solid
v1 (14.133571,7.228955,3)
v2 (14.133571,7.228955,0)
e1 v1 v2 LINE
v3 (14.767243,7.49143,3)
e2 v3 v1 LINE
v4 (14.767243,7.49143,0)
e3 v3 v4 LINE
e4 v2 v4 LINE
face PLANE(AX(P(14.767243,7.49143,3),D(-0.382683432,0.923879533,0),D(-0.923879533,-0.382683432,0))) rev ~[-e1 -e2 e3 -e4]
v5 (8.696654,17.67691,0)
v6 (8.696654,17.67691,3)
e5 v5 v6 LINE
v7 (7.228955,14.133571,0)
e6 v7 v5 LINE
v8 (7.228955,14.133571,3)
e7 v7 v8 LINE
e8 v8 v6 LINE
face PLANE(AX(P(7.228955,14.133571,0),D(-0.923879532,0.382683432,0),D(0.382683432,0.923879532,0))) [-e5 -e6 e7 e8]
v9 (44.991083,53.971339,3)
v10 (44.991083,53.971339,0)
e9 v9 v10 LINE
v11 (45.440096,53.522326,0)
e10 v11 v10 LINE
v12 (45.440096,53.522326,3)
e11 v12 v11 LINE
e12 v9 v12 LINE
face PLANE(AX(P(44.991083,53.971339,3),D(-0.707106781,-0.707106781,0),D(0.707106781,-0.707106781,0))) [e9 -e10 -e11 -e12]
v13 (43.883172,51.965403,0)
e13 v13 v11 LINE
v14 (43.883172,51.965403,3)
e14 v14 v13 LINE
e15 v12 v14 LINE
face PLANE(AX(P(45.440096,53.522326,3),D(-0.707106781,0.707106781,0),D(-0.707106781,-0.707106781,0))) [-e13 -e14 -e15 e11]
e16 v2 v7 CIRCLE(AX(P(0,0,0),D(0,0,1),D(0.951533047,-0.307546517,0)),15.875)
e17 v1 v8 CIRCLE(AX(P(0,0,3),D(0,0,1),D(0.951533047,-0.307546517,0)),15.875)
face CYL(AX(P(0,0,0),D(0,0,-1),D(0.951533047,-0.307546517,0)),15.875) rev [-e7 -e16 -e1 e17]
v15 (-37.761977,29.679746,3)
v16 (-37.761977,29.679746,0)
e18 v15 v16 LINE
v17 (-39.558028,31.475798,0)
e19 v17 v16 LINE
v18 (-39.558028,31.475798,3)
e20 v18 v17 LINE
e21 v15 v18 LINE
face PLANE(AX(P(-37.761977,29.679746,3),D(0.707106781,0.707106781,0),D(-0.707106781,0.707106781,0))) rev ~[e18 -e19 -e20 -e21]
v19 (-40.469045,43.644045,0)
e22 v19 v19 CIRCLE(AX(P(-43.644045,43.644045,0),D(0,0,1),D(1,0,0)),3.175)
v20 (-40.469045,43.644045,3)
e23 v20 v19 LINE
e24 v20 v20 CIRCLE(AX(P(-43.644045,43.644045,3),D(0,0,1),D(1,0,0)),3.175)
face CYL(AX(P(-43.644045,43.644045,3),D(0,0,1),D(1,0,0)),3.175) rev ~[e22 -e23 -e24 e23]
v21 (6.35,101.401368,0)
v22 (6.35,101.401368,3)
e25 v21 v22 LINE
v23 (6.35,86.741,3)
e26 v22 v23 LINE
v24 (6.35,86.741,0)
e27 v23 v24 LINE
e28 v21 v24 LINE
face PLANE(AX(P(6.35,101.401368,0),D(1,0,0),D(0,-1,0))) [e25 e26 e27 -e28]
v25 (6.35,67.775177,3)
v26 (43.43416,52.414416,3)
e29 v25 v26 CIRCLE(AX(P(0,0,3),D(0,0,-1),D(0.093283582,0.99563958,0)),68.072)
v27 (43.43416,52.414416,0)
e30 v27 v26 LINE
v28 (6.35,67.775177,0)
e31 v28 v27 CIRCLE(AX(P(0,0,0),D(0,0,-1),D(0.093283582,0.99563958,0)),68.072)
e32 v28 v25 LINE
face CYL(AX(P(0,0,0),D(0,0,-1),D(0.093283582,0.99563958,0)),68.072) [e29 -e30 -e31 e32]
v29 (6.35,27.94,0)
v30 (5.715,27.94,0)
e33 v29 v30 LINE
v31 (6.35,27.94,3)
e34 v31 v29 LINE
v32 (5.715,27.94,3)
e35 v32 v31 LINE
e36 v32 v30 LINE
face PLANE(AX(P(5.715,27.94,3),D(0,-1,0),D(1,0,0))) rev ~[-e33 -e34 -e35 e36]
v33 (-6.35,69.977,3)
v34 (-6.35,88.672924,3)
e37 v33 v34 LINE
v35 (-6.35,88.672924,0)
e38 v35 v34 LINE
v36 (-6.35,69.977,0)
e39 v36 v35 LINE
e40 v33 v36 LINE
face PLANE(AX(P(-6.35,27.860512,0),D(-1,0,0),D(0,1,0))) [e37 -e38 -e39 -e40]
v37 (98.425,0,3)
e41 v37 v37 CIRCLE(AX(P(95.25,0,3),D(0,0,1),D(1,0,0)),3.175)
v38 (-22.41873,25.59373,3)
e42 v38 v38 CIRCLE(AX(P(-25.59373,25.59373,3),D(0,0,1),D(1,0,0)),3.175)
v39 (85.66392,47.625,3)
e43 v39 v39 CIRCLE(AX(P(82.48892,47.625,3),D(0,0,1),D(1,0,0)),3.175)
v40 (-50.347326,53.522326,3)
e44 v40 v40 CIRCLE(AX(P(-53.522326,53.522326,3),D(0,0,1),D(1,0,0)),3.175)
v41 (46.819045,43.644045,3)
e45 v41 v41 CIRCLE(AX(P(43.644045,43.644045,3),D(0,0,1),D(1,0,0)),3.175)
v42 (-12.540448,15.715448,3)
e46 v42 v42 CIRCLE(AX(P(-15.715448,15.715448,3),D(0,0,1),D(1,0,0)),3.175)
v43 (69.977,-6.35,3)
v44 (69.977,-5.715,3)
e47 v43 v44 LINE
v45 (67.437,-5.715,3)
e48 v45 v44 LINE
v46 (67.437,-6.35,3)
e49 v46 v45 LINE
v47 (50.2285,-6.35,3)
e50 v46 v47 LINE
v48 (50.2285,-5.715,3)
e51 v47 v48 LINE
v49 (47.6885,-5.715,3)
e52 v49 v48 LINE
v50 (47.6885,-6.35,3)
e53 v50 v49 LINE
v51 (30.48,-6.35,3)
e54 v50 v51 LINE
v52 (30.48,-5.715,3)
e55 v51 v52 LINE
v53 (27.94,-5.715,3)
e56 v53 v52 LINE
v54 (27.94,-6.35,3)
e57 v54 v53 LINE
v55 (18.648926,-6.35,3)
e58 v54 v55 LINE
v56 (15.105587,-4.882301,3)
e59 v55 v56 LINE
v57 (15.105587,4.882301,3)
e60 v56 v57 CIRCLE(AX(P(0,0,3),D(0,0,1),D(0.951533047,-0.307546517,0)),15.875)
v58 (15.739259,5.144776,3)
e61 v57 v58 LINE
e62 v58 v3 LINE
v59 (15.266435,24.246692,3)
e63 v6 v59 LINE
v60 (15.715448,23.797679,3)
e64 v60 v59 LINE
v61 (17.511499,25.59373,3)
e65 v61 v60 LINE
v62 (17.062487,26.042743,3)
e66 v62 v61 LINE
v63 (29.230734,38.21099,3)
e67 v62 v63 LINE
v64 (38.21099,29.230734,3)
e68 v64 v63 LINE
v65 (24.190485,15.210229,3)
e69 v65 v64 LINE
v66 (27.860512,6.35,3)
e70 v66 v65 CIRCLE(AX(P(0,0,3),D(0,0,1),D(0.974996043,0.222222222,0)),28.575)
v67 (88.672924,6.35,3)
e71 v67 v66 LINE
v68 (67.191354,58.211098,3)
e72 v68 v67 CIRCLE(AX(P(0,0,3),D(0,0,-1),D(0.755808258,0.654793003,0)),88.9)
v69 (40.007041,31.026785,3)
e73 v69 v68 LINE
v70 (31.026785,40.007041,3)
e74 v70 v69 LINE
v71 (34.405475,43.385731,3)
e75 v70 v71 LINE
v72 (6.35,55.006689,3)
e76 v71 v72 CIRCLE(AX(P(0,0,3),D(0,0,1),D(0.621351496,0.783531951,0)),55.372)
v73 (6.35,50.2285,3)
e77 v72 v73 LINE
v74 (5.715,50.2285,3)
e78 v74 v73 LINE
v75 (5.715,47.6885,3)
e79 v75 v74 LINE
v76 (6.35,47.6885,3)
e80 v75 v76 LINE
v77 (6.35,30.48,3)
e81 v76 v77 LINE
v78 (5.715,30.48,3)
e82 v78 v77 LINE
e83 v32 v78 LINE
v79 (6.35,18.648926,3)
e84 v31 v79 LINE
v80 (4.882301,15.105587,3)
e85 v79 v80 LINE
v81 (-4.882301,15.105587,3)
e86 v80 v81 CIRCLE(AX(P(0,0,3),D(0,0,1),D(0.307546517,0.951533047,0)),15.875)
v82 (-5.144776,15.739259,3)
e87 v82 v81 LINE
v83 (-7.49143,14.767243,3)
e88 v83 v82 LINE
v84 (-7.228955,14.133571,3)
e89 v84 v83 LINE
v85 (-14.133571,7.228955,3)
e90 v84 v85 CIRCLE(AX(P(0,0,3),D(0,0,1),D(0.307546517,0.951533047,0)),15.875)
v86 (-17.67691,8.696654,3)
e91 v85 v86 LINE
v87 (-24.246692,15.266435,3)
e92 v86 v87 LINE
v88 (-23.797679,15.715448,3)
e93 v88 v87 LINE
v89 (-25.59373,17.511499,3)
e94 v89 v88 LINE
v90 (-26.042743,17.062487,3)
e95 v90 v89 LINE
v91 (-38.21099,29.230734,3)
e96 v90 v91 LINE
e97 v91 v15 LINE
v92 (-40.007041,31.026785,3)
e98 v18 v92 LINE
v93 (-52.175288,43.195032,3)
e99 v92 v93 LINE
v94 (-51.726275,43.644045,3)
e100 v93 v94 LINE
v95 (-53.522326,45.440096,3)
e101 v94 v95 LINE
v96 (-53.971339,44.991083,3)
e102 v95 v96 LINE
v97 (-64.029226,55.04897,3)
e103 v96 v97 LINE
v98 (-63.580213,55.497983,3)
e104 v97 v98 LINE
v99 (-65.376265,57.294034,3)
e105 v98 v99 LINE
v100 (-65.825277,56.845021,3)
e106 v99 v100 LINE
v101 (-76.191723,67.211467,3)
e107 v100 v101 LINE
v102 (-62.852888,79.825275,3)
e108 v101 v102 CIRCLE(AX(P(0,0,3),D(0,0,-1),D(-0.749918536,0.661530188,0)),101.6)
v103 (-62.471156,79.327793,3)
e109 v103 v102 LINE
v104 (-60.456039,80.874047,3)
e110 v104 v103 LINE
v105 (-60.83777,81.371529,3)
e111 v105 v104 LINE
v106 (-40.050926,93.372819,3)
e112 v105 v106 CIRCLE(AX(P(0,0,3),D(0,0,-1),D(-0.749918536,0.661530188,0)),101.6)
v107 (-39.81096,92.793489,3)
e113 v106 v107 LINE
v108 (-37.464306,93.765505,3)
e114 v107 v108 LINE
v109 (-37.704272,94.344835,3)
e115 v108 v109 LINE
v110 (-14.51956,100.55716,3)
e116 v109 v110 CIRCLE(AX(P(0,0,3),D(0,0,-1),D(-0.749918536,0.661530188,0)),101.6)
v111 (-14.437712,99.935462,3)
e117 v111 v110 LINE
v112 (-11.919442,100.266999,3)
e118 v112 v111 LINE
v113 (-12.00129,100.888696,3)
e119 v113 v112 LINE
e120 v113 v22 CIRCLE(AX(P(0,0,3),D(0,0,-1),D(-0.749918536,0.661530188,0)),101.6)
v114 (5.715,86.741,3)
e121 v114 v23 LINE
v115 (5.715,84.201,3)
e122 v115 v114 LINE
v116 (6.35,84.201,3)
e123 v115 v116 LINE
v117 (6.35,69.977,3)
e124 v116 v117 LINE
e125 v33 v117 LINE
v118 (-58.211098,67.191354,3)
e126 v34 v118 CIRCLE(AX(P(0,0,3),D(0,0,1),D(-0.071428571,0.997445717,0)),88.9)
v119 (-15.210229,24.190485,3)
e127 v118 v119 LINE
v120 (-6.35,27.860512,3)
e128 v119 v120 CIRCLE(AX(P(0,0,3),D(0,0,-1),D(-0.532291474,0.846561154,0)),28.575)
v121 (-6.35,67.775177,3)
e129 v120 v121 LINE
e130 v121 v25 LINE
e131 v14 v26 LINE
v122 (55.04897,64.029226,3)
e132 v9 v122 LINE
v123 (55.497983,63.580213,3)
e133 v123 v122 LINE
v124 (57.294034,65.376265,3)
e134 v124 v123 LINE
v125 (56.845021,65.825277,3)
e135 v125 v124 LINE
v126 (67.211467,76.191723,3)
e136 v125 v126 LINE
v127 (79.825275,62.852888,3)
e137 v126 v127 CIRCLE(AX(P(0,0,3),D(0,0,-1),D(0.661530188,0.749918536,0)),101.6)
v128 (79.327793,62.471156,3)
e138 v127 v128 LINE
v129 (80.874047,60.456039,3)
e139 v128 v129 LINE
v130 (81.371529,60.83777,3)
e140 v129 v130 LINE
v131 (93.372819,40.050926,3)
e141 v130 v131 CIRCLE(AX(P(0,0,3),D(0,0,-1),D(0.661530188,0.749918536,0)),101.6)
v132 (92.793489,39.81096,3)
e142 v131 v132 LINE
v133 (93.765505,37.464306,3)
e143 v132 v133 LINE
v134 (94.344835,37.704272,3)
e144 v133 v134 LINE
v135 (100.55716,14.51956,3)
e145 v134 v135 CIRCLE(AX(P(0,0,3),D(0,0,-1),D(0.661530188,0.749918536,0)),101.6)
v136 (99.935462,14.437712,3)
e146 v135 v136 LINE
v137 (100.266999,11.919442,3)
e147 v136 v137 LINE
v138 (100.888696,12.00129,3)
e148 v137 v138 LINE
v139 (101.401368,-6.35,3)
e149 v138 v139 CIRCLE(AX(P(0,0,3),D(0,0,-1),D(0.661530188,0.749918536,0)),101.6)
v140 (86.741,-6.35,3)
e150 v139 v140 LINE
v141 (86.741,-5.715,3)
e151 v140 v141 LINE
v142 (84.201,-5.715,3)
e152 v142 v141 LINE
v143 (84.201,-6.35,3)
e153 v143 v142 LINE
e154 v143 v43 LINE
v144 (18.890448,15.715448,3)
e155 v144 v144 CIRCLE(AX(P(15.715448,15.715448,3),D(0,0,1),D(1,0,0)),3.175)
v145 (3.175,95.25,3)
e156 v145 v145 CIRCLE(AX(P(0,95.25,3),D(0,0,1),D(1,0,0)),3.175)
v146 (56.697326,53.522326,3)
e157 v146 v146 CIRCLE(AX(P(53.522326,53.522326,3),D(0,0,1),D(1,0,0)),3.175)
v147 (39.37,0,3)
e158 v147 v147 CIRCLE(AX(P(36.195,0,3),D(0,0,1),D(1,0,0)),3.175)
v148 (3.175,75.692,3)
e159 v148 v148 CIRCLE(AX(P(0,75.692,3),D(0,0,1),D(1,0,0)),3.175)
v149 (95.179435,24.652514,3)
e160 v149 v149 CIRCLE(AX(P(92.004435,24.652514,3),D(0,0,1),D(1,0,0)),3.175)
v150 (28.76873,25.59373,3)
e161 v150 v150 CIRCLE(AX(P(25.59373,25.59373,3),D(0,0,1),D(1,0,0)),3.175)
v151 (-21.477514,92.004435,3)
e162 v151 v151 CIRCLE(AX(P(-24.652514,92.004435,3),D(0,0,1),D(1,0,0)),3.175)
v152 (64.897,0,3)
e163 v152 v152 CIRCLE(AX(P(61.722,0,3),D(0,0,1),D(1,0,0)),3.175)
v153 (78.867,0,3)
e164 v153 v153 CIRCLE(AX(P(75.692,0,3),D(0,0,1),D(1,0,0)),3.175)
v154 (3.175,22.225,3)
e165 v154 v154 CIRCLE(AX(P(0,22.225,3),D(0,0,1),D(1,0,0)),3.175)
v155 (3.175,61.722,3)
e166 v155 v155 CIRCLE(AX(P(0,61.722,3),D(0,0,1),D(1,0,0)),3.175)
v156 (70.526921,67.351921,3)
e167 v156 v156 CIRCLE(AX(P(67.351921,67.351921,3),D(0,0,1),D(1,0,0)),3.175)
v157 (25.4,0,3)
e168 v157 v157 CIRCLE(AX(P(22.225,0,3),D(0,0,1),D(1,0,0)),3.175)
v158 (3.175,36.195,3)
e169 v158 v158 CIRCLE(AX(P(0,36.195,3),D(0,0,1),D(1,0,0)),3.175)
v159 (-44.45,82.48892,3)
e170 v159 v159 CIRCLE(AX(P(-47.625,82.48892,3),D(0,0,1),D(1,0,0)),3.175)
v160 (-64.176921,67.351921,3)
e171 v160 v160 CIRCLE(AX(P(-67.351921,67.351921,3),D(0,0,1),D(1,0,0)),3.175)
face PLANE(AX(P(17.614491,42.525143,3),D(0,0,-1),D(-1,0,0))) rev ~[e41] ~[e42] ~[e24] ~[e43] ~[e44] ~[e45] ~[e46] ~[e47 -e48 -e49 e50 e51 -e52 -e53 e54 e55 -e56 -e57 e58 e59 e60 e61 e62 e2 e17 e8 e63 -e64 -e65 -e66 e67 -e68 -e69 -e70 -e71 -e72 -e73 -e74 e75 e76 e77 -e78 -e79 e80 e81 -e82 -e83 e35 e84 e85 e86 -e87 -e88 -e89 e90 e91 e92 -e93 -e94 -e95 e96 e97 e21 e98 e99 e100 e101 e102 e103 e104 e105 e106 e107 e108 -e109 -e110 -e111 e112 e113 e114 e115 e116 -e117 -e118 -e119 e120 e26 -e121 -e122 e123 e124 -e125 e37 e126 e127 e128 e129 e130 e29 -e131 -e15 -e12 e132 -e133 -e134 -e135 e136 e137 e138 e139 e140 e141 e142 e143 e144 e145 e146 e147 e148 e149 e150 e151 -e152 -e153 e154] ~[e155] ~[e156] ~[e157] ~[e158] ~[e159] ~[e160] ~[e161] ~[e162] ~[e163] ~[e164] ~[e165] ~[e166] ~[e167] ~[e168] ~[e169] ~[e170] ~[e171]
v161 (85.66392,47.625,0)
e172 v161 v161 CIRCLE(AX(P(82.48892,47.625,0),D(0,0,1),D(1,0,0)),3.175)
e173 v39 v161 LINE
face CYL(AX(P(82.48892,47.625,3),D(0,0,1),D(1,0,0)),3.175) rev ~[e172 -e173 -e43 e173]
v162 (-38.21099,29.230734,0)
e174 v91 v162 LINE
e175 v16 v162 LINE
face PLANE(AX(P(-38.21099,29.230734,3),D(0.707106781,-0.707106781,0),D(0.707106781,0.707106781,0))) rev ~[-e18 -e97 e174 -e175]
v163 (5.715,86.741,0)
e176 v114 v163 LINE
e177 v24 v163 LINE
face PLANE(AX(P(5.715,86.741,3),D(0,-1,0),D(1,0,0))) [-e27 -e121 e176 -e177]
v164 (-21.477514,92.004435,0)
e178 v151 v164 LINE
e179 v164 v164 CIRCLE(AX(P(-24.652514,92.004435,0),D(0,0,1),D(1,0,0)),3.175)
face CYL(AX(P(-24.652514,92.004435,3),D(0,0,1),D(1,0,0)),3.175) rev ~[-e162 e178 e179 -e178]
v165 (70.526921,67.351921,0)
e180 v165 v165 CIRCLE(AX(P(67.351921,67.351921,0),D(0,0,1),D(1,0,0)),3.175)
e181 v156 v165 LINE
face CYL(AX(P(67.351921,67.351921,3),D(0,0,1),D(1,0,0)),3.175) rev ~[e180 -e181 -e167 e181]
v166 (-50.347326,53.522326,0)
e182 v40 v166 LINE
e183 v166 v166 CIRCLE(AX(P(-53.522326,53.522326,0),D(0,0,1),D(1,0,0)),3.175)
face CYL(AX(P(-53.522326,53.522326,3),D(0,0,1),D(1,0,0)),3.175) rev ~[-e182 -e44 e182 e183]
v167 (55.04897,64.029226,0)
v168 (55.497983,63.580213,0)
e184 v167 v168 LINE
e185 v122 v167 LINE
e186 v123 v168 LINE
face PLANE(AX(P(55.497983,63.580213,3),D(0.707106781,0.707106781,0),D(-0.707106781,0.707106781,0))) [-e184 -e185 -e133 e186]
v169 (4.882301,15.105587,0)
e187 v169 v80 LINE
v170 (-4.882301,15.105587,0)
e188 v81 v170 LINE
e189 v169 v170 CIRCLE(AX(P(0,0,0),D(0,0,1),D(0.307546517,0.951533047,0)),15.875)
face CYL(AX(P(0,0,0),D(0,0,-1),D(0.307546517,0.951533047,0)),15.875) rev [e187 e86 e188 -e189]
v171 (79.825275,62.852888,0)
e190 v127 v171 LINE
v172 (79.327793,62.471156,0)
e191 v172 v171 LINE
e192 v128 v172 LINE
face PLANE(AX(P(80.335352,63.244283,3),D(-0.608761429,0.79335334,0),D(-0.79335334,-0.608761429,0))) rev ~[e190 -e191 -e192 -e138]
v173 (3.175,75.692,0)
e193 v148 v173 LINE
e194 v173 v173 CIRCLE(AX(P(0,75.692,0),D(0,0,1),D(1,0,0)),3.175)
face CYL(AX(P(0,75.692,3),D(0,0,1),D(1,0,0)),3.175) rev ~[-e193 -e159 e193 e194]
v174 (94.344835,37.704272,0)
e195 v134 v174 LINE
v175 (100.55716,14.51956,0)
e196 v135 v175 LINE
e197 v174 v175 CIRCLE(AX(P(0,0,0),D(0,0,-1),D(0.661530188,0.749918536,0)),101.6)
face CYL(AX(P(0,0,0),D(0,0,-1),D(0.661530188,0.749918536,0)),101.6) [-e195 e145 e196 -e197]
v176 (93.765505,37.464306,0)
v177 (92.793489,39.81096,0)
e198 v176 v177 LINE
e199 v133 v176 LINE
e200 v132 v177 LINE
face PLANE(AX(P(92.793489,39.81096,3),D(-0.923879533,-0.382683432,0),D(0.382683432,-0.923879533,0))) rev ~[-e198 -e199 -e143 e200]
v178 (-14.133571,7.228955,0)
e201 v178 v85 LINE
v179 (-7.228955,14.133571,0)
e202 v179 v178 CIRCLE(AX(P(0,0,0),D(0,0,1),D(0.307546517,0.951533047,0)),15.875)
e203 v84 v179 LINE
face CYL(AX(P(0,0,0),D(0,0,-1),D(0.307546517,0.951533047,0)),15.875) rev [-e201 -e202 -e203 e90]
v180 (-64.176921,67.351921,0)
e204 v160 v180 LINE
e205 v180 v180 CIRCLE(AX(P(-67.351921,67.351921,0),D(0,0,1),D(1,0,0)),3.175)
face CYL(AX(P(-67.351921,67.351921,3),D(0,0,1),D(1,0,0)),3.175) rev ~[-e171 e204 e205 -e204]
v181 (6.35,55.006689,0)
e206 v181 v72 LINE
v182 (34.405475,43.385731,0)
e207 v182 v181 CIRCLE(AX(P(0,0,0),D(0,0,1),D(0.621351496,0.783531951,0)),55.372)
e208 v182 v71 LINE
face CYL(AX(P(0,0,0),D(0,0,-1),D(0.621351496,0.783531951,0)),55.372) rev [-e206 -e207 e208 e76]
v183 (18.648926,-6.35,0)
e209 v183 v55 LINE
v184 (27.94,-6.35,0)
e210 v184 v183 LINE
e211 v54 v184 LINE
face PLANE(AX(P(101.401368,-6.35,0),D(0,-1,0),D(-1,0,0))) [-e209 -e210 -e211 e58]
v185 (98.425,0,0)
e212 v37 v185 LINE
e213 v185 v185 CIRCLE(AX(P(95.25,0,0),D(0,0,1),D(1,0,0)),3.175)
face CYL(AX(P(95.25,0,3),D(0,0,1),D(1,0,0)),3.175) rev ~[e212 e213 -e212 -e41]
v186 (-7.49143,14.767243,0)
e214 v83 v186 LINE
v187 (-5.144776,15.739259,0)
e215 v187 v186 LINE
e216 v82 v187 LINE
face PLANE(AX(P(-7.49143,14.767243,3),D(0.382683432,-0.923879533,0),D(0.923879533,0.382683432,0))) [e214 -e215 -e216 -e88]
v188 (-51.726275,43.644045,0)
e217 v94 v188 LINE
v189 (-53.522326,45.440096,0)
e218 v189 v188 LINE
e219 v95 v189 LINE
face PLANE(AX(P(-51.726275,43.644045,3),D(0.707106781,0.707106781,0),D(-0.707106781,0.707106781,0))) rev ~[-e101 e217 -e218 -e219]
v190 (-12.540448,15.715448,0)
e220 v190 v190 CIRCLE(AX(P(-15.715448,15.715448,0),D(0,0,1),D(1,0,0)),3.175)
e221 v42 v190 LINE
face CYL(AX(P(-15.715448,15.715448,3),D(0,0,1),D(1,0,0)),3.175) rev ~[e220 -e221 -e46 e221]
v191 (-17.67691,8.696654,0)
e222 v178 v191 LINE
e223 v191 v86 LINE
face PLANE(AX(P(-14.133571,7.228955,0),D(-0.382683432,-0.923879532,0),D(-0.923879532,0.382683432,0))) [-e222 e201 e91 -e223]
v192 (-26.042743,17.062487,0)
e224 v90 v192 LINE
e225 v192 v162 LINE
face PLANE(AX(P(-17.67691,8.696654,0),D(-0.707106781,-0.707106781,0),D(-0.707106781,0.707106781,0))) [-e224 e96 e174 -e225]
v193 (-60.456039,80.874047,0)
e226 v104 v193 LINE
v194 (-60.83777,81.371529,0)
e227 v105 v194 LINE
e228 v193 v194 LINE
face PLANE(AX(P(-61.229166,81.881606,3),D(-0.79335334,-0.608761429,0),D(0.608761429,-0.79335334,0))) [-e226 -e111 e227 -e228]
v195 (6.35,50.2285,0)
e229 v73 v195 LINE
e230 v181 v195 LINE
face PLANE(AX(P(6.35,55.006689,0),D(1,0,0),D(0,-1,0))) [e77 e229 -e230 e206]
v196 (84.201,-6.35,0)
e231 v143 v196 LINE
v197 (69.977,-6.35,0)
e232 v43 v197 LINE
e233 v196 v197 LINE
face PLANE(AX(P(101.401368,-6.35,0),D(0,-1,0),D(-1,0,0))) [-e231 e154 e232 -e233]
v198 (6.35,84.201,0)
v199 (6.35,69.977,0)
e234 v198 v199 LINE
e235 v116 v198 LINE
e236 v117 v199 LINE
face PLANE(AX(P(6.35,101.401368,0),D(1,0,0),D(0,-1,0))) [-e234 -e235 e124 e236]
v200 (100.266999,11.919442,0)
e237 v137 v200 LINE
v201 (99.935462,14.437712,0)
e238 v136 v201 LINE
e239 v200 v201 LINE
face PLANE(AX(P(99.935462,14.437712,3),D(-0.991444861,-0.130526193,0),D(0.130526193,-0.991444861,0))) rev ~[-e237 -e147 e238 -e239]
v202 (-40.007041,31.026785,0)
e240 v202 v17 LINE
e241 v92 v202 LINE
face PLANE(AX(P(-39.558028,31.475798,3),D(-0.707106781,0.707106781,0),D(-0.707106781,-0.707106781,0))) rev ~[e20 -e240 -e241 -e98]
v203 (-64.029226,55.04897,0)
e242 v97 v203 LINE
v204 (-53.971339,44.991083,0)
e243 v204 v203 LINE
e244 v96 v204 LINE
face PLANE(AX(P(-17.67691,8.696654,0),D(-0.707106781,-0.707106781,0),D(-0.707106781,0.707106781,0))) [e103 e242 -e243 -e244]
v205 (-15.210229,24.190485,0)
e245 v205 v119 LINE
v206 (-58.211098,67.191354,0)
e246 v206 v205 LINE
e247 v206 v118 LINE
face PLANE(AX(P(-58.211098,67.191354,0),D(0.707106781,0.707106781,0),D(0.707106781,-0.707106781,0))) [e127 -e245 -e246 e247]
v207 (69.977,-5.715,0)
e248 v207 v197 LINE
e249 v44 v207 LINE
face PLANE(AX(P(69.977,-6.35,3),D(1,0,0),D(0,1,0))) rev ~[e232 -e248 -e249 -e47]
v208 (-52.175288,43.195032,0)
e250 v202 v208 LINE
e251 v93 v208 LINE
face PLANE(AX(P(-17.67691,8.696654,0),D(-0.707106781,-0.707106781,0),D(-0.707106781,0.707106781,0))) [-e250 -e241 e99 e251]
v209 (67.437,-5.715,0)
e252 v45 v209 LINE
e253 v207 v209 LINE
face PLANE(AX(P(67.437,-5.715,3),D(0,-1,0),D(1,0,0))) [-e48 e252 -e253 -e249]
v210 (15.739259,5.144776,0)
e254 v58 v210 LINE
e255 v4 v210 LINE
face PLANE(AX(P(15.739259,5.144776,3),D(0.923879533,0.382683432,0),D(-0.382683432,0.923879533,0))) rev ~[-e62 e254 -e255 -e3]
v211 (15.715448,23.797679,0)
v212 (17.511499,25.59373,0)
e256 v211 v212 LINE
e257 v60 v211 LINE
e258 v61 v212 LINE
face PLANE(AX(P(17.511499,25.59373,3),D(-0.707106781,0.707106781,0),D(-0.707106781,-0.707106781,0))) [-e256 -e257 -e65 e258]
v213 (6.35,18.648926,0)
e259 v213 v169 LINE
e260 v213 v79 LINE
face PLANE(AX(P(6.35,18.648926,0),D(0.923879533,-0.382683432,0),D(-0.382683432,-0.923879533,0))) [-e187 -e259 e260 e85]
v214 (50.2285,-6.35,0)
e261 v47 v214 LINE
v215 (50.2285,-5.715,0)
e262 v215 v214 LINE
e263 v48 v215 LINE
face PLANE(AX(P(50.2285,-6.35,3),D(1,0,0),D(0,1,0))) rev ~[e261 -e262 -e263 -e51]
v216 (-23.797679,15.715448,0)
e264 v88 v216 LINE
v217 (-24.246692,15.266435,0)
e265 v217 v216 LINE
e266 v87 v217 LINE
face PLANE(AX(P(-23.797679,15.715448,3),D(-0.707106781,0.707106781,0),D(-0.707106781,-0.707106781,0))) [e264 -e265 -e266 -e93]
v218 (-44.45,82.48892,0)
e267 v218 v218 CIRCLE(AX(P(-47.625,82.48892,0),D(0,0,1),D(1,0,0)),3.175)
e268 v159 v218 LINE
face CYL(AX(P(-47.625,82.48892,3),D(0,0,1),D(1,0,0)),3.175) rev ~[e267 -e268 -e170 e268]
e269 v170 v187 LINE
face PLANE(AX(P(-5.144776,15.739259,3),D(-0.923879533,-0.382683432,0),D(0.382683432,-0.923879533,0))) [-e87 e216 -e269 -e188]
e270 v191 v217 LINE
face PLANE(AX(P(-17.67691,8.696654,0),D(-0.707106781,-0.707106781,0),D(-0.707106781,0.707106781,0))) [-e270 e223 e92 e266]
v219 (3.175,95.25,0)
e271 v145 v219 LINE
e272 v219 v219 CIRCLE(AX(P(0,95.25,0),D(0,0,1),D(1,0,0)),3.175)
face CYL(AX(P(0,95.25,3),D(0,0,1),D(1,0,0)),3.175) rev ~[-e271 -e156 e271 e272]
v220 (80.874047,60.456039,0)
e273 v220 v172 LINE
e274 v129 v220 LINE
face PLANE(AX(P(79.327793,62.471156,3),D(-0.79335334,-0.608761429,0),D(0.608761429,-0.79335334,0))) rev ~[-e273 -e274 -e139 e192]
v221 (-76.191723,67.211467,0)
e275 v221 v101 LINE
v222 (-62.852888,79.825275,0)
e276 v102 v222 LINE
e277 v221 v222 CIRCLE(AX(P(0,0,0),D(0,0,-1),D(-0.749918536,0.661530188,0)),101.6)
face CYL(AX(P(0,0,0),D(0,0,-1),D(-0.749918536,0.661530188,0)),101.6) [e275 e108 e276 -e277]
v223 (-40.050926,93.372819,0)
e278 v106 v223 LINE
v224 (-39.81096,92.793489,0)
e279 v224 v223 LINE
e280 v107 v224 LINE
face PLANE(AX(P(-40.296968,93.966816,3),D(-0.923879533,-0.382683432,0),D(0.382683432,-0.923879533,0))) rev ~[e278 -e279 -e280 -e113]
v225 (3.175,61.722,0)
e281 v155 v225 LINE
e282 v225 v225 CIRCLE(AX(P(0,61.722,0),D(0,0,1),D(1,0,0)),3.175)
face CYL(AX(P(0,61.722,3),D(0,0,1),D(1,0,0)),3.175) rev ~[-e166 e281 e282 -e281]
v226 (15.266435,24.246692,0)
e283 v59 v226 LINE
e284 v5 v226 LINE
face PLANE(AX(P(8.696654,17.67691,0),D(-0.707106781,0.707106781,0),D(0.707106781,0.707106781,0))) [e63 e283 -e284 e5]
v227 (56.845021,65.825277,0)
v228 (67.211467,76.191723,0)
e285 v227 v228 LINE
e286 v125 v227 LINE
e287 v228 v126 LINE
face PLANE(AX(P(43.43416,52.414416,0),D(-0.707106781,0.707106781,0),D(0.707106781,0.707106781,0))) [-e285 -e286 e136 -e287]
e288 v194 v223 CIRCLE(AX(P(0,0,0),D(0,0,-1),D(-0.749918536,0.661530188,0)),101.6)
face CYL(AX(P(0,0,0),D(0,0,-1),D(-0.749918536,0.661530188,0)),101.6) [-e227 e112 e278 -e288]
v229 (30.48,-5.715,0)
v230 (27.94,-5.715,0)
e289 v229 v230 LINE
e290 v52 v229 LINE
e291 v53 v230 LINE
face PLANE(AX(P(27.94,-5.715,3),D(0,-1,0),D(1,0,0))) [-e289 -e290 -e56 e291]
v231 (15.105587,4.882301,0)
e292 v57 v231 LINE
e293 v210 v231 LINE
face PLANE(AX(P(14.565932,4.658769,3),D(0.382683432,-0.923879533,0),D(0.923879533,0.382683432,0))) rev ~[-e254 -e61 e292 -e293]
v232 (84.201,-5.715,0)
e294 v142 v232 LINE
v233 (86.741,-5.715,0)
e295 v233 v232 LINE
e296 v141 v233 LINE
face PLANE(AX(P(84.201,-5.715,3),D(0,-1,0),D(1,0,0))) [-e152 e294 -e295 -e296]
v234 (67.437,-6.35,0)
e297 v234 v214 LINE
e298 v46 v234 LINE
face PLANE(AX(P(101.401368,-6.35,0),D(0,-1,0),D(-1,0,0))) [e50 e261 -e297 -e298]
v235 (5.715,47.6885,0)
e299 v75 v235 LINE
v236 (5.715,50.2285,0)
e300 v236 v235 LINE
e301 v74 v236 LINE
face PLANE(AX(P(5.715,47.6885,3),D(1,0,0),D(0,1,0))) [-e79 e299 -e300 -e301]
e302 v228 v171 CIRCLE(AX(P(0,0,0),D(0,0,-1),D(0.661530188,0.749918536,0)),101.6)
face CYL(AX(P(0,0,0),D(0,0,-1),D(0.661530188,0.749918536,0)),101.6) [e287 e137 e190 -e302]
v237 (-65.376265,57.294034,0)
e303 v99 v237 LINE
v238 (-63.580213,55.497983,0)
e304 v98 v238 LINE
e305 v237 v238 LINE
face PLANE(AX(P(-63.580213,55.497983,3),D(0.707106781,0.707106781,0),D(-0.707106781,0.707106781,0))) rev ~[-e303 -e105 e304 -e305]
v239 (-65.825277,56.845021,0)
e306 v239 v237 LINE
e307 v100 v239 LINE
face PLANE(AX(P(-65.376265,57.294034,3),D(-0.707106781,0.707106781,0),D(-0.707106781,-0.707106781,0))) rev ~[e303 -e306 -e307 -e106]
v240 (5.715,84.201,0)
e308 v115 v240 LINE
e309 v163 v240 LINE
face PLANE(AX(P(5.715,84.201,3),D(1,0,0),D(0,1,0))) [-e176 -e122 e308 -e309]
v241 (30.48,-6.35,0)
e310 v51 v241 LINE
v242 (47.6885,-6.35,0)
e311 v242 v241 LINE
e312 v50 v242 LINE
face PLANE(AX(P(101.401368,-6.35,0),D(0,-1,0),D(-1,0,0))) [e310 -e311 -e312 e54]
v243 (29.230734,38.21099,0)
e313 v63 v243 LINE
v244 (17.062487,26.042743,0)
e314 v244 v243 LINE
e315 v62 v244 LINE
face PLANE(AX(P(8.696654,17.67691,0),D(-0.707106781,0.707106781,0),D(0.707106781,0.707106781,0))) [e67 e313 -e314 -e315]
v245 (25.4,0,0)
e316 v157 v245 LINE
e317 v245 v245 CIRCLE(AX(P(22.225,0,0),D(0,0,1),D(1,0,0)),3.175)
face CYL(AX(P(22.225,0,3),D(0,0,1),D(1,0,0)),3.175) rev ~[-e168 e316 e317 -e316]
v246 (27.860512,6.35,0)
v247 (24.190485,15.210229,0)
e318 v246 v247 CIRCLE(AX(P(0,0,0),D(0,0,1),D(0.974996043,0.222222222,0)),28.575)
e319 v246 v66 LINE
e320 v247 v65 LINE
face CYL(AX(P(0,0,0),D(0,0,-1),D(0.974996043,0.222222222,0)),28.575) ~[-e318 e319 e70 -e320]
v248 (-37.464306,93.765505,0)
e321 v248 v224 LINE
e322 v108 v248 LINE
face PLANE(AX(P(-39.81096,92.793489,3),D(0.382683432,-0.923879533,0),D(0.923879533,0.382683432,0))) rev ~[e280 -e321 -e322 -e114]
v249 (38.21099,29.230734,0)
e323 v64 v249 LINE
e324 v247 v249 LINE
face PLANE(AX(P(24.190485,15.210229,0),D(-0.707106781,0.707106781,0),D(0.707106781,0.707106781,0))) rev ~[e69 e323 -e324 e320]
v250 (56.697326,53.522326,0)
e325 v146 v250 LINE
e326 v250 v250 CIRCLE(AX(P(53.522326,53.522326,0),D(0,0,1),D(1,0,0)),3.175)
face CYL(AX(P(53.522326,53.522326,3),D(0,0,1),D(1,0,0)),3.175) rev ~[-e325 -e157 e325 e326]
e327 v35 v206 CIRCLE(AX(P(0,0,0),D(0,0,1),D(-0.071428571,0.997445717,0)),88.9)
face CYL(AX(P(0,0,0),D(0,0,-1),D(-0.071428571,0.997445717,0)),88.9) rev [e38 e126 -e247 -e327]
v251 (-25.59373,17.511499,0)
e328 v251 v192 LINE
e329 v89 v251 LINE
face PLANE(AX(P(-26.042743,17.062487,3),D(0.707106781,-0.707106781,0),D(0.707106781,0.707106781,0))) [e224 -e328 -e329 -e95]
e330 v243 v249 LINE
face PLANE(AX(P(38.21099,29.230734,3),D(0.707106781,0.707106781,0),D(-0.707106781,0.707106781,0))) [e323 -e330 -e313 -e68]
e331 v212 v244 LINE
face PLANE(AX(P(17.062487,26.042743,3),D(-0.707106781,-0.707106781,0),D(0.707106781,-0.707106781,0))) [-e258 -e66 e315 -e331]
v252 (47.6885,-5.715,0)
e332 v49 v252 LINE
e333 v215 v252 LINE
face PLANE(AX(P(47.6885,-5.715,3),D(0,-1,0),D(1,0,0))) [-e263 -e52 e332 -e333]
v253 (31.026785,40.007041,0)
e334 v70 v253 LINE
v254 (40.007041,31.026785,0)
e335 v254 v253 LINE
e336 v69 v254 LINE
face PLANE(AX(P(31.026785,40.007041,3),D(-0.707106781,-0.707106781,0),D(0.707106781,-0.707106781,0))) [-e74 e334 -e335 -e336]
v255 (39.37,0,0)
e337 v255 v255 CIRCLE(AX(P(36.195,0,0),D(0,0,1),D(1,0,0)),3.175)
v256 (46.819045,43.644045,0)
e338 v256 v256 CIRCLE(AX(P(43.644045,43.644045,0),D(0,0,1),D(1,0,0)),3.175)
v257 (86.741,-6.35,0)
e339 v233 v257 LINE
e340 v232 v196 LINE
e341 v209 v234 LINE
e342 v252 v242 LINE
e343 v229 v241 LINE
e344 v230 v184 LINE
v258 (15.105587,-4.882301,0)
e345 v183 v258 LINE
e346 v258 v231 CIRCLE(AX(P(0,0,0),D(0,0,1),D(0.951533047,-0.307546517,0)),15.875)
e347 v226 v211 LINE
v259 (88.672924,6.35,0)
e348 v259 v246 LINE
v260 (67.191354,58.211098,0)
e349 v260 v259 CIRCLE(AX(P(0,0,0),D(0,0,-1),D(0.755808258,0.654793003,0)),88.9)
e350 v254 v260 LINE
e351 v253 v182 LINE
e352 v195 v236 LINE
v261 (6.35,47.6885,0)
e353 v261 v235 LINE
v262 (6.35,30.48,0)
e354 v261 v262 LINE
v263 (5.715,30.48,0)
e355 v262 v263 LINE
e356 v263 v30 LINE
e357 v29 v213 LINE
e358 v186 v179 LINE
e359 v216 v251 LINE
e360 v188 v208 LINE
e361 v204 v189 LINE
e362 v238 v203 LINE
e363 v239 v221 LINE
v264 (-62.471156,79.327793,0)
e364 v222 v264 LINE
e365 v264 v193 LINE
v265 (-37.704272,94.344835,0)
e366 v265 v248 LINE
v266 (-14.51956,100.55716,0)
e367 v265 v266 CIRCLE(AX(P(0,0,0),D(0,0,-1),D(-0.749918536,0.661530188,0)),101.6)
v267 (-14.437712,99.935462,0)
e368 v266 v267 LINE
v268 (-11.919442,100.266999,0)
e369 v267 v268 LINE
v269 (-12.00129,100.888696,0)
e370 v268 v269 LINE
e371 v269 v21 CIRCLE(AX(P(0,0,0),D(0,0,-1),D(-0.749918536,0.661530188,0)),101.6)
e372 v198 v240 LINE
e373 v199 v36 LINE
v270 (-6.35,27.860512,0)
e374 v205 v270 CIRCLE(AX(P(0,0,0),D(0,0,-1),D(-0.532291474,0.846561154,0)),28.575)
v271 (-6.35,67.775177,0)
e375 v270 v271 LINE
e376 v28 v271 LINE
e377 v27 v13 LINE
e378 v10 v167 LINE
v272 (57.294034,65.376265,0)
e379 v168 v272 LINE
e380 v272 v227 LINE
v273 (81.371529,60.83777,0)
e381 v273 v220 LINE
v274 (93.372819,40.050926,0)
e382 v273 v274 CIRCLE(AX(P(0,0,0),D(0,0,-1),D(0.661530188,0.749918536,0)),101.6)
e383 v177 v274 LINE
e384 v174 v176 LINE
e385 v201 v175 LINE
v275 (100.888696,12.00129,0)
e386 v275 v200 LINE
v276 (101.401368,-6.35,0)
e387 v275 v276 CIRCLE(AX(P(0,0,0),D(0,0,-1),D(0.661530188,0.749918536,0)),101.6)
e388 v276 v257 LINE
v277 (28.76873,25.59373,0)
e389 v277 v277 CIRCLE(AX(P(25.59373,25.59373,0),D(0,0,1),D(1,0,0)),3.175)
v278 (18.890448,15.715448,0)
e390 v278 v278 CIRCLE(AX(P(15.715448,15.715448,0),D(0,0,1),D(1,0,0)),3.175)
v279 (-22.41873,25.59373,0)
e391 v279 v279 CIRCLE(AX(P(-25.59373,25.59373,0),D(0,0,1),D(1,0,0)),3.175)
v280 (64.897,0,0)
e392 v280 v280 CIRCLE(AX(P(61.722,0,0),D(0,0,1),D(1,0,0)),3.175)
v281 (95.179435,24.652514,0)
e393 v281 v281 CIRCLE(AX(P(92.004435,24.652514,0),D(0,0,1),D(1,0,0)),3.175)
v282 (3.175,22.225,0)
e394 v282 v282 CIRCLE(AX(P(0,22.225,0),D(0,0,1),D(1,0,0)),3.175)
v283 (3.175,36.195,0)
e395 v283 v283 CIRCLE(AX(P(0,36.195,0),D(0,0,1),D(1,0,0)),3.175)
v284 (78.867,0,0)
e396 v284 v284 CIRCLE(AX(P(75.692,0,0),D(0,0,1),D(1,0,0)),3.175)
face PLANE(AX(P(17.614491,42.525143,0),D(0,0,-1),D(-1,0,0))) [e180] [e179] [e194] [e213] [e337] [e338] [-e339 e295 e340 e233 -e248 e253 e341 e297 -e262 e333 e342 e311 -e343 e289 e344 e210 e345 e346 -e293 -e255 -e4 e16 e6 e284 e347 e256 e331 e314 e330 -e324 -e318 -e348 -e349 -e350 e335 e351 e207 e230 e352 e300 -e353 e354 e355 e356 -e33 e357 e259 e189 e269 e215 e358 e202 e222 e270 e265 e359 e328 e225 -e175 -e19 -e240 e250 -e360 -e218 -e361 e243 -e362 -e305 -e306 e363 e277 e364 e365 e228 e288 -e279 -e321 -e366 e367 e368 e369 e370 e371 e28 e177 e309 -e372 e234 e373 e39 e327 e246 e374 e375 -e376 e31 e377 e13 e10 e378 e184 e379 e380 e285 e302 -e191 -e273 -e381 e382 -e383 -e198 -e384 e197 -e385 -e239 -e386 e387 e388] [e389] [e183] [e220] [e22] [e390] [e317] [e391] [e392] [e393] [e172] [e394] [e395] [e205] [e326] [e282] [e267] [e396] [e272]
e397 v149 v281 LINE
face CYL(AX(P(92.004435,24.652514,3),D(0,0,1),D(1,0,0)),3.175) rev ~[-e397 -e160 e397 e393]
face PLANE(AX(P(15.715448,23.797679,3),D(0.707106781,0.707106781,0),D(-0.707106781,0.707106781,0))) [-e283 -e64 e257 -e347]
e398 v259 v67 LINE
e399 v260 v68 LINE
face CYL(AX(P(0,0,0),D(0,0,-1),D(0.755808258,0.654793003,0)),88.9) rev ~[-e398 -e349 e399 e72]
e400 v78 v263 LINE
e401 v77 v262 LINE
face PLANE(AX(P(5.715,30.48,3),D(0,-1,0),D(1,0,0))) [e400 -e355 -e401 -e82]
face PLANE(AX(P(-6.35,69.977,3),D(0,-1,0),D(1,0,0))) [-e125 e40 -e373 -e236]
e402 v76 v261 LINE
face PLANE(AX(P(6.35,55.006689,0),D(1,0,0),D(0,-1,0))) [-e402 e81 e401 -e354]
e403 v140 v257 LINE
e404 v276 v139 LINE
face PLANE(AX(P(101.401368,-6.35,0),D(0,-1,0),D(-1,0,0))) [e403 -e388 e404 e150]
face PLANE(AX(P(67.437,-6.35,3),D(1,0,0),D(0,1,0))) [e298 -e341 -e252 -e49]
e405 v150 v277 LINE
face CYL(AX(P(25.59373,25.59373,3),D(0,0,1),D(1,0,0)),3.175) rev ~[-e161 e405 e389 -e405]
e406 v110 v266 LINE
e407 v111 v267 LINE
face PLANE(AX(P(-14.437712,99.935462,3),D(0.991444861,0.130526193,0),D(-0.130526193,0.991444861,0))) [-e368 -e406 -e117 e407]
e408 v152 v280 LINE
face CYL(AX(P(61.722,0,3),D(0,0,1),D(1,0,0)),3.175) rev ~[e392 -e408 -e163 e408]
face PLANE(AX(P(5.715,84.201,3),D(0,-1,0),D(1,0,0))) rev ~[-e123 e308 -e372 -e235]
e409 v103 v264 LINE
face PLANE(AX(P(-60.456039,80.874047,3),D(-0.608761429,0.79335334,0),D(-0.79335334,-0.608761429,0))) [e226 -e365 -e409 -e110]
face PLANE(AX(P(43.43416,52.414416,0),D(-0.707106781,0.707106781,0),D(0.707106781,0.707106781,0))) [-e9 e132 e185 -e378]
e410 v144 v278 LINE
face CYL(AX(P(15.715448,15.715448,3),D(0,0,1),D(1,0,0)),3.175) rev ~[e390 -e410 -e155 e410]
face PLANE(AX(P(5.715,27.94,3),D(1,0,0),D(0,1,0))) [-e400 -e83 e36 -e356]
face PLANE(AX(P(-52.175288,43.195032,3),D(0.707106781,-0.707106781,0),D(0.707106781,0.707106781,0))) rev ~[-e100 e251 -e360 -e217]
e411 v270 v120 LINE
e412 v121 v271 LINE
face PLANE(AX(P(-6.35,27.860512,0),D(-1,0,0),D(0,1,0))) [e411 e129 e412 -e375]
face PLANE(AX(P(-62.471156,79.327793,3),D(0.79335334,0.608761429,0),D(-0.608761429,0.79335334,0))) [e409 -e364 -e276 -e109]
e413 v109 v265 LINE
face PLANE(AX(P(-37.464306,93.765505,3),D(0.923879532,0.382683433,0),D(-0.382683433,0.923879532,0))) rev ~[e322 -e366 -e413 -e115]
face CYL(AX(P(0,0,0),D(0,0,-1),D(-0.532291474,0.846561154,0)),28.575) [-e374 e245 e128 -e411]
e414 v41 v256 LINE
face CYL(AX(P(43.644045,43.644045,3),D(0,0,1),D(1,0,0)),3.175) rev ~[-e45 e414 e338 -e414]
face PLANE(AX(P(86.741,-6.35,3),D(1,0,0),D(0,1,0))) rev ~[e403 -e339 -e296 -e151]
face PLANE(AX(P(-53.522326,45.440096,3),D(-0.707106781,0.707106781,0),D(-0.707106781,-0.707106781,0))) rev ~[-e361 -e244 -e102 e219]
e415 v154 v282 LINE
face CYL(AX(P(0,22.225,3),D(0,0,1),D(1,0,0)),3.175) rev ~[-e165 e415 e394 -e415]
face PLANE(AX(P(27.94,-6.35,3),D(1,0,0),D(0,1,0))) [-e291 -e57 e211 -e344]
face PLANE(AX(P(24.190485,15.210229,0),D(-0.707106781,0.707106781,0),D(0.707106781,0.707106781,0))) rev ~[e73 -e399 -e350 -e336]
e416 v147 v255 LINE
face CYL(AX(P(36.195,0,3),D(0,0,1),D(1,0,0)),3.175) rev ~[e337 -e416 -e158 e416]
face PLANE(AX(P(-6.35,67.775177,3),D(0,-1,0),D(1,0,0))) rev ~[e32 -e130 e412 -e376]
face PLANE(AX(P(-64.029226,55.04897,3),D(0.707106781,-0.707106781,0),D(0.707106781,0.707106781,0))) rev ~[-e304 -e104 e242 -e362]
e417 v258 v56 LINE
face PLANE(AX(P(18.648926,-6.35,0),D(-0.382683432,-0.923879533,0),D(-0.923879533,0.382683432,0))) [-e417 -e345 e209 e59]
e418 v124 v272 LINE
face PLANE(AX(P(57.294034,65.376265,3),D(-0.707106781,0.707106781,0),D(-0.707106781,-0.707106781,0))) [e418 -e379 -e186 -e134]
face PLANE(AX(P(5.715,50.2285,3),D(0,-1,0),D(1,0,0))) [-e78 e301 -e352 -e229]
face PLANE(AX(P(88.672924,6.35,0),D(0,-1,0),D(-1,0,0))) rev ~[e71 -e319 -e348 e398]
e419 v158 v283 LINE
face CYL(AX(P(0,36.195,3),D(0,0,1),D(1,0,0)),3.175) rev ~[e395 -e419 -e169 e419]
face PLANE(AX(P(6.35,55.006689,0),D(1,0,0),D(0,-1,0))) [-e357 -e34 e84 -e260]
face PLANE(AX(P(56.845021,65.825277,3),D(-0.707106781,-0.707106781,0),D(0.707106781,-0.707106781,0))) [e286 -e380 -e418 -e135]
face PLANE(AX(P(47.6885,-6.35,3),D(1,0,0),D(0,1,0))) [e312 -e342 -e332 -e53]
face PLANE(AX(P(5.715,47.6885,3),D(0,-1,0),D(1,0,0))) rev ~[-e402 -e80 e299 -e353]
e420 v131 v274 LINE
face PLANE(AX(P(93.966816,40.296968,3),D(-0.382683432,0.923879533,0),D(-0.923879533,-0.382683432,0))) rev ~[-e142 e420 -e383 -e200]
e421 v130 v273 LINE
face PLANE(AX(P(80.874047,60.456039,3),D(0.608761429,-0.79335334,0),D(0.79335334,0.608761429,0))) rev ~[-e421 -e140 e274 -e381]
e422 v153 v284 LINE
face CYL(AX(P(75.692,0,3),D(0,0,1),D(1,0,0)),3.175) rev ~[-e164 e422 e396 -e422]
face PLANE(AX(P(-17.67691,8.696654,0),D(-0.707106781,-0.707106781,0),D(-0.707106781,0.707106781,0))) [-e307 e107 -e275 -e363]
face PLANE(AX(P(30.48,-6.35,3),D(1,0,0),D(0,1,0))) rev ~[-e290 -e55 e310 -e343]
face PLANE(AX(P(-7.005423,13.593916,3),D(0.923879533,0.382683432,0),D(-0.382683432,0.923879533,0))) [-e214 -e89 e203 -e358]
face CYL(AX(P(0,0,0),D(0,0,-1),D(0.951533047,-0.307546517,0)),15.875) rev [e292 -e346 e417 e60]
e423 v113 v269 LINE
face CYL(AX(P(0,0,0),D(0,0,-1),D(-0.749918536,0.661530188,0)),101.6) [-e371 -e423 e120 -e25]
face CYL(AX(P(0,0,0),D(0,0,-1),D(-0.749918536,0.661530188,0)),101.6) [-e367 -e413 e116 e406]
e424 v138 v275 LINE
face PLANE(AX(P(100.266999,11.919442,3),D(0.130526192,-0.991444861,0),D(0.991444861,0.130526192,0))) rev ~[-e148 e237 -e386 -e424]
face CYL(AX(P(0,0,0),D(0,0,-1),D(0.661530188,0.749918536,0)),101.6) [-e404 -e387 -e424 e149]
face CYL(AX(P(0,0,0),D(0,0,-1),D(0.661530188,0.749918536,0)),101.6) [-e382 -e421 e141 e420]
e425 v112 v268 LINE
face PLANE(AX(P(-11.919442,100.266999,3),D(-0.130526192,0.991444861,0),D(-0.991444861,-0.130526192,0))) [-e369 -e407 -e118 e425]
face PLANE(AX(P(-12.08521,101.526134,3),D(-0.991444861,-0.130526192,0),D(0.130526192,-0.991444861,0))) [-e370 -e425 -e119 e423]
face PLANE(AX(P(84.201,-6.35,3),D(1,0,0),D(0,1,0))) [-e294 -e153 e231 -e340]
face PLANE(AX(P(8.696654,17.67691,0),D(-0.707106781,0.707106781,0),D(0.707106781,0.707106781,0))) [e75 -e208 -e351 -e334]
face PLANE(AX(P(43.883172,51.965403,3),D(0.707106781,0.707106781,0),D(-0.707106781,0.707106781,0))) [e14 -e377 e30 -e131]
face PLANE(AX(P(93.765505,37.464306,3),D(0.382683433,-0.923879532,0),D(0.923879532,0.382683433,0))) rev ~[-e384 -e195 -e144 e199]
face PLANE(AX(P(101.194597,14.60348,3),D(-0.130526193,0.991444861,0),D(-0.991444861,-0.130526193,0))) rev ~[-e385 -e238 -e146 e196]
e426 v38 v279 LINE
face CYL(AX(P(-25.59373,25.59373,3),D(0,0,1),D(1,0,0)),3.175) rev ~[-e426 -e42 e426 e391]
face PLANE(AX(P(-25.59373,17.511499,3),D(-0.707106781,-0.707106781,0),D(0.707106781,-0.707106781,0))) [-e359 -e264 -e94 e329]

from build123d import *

# Parameters (mm, degrees)
BOSS_EXTRUDE1_DEPTH = 3.000000096
SKETCH2_R           = 3.175
CUT_EXTRUDE1_DEPTH  = 4.000000096
SKETCH3_W           = 2.54
SKETCH3_H           = 0.635
SKETCH3_W_2         = 12.7
SKETCH3_H_2         = 2.201822509
SKETCH3_W_3         = 0.635
SKETCH3_H_3         = 2.54
CUT_EXTRUDE2_DEPTH  = 4.000000096


with BuildPart() as part:
    # Sketch1 → Boss-Extrude1 (new body)
    with BuildSketch(Plane.XY):
        with BuildLine():
            Line((8.696654013, 17.676910134), (34.405475059, 43.38573118))
            ThreePointArc((34.405475059, 43.38573118), (21.189947017, 51.157057474), (6.35, 55.006689448))
            Line((6.35, 55.006689448), (6.35, 18.648926052))
            Line((6.35, 18.648926052), (4.88230096, 15.105587123))
            ThreePointArc((4.88230096, 15.105587123), (-6.075099489, 14.666587579), (-14.133571205, 7.228954972))
            Line((-14.133571205, 7.228954972), (-17.676910134, 8.696654013))
            Line((-17.676910134, 8.696654013), (-76.191723231, 67.21146711))
            ThreePointArc((-76.191723231, 67.21146711), (-38.880636728, 93.866160503), (6.35, 101.401368334))
            Line((6.35, 101.401368334), (6.35, 67.775177491))
            ThreePointArc((6.35, 67.775177491), (26.050026608, 62.890327537), (43.43415954, 52.414415661))
            Line((43.43415954, 52.414415661), (67.21146711, 76.191723231))
            ThreePointArc((67.21146711, 76.191723231), (93.866160503, 38.880636728), (101.401368334, -6.35))
            Line((101.401368334, -6.35), (18.648926052, -6.35))
            Line((18.648926052, -6.35), (15.105587123, -4.88230096))
            ThreePointArc((15.105587123, -4.88230096), (14.666587579, 6.075099489), (7.228954972, 14.133571205))
            Line((7.228954972, 14.133571205), (8.696654013, 17.676910134))
        make_face()
        with BuildLine():
            Line((88.672924278, 6.35), (27.86051193, 6.35))
            ThreePointArc((27.86051193, 6.35), (26.399857642, 10.93517908), (24.190484974, 15.210228852))
            Line((24.190484974, 15.210228852), (67.191354125, 58.211098004))
            ThreePointArc((67.191354125, 58.211098004), (82.13289044, 34.020557137), (88.672924278, 6.35))
        make_face(mode=Mode.SUBTRACT)
        with BuildLine():
            Line((-58.211098004, 67.191354125), (-15.210228852, 24.190484974))
            ThreePointArc((-15.210228852, 24.190484974), (-10.93517908, 26.399857642), (-6.35, 27.86051193))
            Line((-6.35, 27.86051193), (-6.35, 88.672924278))
            ThreePointArc((-6.35, 88.672924278), (-34.020557137, 82.13289044), (-58.211098004, 67.191354125))
        make_face(mode=Mode.SUBTRACT)
    extrude(amount=BOSS_EXTRUDE1_DEPTH)

    # Sketch2 → Cut-Extrude1 (cut, through all)
    with BuildSketch(Plane.XY.offset(3.000000096)):
        with Locations((22.225, 0)):
            Circle(SKETCH2_R)
        with Locations((36.195, 0)):
            Circle(SKETCH2_R)
        with Locations((61.722, 0)):
            Circle(SKETCH2_R)
        with Locations((75.692, 0)):
            Circle(SKETCH2_R)
        with Locations((95.25, 0)):
            Circle(SKETCH2_R)
        with Locations((15.715448212, 15.715448212)):
            Circle(SKETCH2_R)
        with Locations((25.593729945, 25.593729945)):
            Circle(SKETCH2_R)
        with Locations((43.644044748, 43.644044748)):
            Circle(SKETCH2_R)
        with Locations((53.522326482, 53.522326482)):
            Circle(SKETCH2_R)
        with Locations((92.004434954, 24.652514046)):
            Circle(SKETCH2_R)
        with Locations((82.48891971, 47.625)):
            Circle(SKETCH2_R)
        with Locations((67.351920908, 67.351920908)):
            Circle(SKETCH2_R)
        with Locations((0, 95.25)):
            Circle(SKETCH2_R)
        with Locations((0, 75.692)):
            Circle(SKETCH2_R)
        with Locations((-53.522326482, 53.522326482)):
            Circle(SKETCH2_R)
        with Locations((-43.644044748, 43.644044748)):
            Circle(SKETCH2_R)
        with Locations((0, 61.722)):
            Circle(SKETCH2_R)
        with Locations((0, 36.195)):
            Circle(SKETCH2_R)
        with Locations((-25.593729945, 25.593729945)):
            Circle(SKETCH2_R)
        with Locations((-15.715448212, 15.715448212)):
            Circle(SKETCH2_R)
        with Locations((0, 22.225)):
            Circle(SKETCH2_R)
        with Locations((-24.652514046, 92.004434954)):
            Circle(SKETCH2_R)
        with Locations((-47.625, 82.48891971)):
            Circle(SKETCH2_R)
        with Locations((-67.351920908, 67.351920908)):
            Circle(SKETCH2_R)
    extrude(amount=-CUT_EXTRUDE1_DEPTH, mode=Mode.SUBTRACT)

    # Sketch3 → Cut-Extrude2 (cut, through all)
    with BuildSketch(Plane.XY.offset(3.000000096)):
        Polygon((15.266435406, 24.246691527), (17.06248663, 26.042742751), (17.511499436, 25.593729945), (15.715448212, 23.797678721), align=None)
        Polygon((55.048970022, 64.029226143), (56.845021246, 65.825277367), (57.294034052, 65.376264561), (55.497982828, 63.580213337), align=None)
        Polygon((29.230733674, 38.210989795), (31.026784898, 40.007041019), (40.007041019, 31.026784898), (38.210989795, 29.230733674), align=None)
        with Locations((29.21, -6.0325)):
            Rectangle(SKETCH3_W, SKETCH3_H)
        with Locations((68.707, -6.0325)):
            Rectangle(SKETCH3_W, SKETCH3_H)
        Polygon((43.43415954, 52.414415661), (44.991083167, 53.971339288), (45.440095973, 53.522326482), (43.883172346, 51.965402855), align=None)
        with Locations((48.9585, -6.0325)):
            Rectangle(SKETCH3_W, SKETCH3_H)
        with Locations((85.471, -6.0325)):
            Rectangle(SKETCH3_W, SKETCH3_H)
        Polygon((99.935462164, 14.437711971), (100.266998693, 11.919442024), (101.526133667, 12.085210288), (101.194597138, 14.603480236), align=None)
        Polygon((93.765504959, 37.464305742), (94.938831965, 37.950313702), (93.966816047, 40.296967714), (92.793489041, 39.810959755), align=None)
        Polygon((79.327792988, 62.471156422), (80.874047017, 60.456038938), (81.88160576, 61.229165953), (80.33535173, 63.244283437), align=None)
        Polygon((13.593916116, 7.005422516), (14.565932035, 4.658768503), (15.739259041, 5.144776462), (14.767243123, 7.491430475), align=None)
        with Locations((0, 68.876088745)):
            Rectangle(SKETCH3_W_2, SKETCH3_H_2)
        Polygon((-40.007041019, 31.026784898), (-38.210989795, 29.230733674), (-37.761976989, 29.67974648), (-39.558028213, 31.475797704), align=None)
        Polygon((-26.042742751, 17.06248663), (-25.593729945, 17.511499436), (-23.797678721, 15.715448212), (-24.246691527, 15.266435406), align=None)
        Polygon((-65.825277367, 56.845021246), (-64.029226143, 55.048970022), (-63.580213337, 55.497982828), (-65.376264561, 57.294034052), align=None)
        Polygon((-63.244283437, 80.33535173), (-61.229165953, 81.88160576), (-60.456038938, 80.874047017), (-62.471156422, 79.327792988), align=None)
        Polygon((-37.950313702, 94.938831965), (-40.296967714, 93.966816047), (-39.810959755, 92.793489041), (-37.464305742, 93.765504959), align=None)
        Polygon((-14.437711971, 99.935462165), (-14.603480236, 101.194597138), (-12.085210288, 101.526133667), (-11.919442024, 100.266998693), align=None)
        with Locations((6.0325, 85.471)):
            Rectangle(SKETCH3_W_3, SKETCH3_H_3)
        with Locations((6.0325, 48.9585)):
            Rectangle(SKETCH3_W_3, SKETCH3_H_3)
        with Locations((6.0325, 29.21)):
            Rectangle(SKETCH3_W_3, SKETCH3_H_3)
        Polygon((-7.491430475, 14.767243123), (-5.144776462, 15.739259041), (-4.658768503, 14.565932035), (-7.005422516, 13.593916116), align=None)
        Polygon((-53.971339288, 44.991083167), (-52.175288063, 43.195031942), (-51.726275257, 43.644044748), (-53.522326482, 45.440095973), align=None)
    extrude(amount=-CUT_EXTRUDE2_DEPTH, mode=Mode.SUBTRACT)


solid = part.part
